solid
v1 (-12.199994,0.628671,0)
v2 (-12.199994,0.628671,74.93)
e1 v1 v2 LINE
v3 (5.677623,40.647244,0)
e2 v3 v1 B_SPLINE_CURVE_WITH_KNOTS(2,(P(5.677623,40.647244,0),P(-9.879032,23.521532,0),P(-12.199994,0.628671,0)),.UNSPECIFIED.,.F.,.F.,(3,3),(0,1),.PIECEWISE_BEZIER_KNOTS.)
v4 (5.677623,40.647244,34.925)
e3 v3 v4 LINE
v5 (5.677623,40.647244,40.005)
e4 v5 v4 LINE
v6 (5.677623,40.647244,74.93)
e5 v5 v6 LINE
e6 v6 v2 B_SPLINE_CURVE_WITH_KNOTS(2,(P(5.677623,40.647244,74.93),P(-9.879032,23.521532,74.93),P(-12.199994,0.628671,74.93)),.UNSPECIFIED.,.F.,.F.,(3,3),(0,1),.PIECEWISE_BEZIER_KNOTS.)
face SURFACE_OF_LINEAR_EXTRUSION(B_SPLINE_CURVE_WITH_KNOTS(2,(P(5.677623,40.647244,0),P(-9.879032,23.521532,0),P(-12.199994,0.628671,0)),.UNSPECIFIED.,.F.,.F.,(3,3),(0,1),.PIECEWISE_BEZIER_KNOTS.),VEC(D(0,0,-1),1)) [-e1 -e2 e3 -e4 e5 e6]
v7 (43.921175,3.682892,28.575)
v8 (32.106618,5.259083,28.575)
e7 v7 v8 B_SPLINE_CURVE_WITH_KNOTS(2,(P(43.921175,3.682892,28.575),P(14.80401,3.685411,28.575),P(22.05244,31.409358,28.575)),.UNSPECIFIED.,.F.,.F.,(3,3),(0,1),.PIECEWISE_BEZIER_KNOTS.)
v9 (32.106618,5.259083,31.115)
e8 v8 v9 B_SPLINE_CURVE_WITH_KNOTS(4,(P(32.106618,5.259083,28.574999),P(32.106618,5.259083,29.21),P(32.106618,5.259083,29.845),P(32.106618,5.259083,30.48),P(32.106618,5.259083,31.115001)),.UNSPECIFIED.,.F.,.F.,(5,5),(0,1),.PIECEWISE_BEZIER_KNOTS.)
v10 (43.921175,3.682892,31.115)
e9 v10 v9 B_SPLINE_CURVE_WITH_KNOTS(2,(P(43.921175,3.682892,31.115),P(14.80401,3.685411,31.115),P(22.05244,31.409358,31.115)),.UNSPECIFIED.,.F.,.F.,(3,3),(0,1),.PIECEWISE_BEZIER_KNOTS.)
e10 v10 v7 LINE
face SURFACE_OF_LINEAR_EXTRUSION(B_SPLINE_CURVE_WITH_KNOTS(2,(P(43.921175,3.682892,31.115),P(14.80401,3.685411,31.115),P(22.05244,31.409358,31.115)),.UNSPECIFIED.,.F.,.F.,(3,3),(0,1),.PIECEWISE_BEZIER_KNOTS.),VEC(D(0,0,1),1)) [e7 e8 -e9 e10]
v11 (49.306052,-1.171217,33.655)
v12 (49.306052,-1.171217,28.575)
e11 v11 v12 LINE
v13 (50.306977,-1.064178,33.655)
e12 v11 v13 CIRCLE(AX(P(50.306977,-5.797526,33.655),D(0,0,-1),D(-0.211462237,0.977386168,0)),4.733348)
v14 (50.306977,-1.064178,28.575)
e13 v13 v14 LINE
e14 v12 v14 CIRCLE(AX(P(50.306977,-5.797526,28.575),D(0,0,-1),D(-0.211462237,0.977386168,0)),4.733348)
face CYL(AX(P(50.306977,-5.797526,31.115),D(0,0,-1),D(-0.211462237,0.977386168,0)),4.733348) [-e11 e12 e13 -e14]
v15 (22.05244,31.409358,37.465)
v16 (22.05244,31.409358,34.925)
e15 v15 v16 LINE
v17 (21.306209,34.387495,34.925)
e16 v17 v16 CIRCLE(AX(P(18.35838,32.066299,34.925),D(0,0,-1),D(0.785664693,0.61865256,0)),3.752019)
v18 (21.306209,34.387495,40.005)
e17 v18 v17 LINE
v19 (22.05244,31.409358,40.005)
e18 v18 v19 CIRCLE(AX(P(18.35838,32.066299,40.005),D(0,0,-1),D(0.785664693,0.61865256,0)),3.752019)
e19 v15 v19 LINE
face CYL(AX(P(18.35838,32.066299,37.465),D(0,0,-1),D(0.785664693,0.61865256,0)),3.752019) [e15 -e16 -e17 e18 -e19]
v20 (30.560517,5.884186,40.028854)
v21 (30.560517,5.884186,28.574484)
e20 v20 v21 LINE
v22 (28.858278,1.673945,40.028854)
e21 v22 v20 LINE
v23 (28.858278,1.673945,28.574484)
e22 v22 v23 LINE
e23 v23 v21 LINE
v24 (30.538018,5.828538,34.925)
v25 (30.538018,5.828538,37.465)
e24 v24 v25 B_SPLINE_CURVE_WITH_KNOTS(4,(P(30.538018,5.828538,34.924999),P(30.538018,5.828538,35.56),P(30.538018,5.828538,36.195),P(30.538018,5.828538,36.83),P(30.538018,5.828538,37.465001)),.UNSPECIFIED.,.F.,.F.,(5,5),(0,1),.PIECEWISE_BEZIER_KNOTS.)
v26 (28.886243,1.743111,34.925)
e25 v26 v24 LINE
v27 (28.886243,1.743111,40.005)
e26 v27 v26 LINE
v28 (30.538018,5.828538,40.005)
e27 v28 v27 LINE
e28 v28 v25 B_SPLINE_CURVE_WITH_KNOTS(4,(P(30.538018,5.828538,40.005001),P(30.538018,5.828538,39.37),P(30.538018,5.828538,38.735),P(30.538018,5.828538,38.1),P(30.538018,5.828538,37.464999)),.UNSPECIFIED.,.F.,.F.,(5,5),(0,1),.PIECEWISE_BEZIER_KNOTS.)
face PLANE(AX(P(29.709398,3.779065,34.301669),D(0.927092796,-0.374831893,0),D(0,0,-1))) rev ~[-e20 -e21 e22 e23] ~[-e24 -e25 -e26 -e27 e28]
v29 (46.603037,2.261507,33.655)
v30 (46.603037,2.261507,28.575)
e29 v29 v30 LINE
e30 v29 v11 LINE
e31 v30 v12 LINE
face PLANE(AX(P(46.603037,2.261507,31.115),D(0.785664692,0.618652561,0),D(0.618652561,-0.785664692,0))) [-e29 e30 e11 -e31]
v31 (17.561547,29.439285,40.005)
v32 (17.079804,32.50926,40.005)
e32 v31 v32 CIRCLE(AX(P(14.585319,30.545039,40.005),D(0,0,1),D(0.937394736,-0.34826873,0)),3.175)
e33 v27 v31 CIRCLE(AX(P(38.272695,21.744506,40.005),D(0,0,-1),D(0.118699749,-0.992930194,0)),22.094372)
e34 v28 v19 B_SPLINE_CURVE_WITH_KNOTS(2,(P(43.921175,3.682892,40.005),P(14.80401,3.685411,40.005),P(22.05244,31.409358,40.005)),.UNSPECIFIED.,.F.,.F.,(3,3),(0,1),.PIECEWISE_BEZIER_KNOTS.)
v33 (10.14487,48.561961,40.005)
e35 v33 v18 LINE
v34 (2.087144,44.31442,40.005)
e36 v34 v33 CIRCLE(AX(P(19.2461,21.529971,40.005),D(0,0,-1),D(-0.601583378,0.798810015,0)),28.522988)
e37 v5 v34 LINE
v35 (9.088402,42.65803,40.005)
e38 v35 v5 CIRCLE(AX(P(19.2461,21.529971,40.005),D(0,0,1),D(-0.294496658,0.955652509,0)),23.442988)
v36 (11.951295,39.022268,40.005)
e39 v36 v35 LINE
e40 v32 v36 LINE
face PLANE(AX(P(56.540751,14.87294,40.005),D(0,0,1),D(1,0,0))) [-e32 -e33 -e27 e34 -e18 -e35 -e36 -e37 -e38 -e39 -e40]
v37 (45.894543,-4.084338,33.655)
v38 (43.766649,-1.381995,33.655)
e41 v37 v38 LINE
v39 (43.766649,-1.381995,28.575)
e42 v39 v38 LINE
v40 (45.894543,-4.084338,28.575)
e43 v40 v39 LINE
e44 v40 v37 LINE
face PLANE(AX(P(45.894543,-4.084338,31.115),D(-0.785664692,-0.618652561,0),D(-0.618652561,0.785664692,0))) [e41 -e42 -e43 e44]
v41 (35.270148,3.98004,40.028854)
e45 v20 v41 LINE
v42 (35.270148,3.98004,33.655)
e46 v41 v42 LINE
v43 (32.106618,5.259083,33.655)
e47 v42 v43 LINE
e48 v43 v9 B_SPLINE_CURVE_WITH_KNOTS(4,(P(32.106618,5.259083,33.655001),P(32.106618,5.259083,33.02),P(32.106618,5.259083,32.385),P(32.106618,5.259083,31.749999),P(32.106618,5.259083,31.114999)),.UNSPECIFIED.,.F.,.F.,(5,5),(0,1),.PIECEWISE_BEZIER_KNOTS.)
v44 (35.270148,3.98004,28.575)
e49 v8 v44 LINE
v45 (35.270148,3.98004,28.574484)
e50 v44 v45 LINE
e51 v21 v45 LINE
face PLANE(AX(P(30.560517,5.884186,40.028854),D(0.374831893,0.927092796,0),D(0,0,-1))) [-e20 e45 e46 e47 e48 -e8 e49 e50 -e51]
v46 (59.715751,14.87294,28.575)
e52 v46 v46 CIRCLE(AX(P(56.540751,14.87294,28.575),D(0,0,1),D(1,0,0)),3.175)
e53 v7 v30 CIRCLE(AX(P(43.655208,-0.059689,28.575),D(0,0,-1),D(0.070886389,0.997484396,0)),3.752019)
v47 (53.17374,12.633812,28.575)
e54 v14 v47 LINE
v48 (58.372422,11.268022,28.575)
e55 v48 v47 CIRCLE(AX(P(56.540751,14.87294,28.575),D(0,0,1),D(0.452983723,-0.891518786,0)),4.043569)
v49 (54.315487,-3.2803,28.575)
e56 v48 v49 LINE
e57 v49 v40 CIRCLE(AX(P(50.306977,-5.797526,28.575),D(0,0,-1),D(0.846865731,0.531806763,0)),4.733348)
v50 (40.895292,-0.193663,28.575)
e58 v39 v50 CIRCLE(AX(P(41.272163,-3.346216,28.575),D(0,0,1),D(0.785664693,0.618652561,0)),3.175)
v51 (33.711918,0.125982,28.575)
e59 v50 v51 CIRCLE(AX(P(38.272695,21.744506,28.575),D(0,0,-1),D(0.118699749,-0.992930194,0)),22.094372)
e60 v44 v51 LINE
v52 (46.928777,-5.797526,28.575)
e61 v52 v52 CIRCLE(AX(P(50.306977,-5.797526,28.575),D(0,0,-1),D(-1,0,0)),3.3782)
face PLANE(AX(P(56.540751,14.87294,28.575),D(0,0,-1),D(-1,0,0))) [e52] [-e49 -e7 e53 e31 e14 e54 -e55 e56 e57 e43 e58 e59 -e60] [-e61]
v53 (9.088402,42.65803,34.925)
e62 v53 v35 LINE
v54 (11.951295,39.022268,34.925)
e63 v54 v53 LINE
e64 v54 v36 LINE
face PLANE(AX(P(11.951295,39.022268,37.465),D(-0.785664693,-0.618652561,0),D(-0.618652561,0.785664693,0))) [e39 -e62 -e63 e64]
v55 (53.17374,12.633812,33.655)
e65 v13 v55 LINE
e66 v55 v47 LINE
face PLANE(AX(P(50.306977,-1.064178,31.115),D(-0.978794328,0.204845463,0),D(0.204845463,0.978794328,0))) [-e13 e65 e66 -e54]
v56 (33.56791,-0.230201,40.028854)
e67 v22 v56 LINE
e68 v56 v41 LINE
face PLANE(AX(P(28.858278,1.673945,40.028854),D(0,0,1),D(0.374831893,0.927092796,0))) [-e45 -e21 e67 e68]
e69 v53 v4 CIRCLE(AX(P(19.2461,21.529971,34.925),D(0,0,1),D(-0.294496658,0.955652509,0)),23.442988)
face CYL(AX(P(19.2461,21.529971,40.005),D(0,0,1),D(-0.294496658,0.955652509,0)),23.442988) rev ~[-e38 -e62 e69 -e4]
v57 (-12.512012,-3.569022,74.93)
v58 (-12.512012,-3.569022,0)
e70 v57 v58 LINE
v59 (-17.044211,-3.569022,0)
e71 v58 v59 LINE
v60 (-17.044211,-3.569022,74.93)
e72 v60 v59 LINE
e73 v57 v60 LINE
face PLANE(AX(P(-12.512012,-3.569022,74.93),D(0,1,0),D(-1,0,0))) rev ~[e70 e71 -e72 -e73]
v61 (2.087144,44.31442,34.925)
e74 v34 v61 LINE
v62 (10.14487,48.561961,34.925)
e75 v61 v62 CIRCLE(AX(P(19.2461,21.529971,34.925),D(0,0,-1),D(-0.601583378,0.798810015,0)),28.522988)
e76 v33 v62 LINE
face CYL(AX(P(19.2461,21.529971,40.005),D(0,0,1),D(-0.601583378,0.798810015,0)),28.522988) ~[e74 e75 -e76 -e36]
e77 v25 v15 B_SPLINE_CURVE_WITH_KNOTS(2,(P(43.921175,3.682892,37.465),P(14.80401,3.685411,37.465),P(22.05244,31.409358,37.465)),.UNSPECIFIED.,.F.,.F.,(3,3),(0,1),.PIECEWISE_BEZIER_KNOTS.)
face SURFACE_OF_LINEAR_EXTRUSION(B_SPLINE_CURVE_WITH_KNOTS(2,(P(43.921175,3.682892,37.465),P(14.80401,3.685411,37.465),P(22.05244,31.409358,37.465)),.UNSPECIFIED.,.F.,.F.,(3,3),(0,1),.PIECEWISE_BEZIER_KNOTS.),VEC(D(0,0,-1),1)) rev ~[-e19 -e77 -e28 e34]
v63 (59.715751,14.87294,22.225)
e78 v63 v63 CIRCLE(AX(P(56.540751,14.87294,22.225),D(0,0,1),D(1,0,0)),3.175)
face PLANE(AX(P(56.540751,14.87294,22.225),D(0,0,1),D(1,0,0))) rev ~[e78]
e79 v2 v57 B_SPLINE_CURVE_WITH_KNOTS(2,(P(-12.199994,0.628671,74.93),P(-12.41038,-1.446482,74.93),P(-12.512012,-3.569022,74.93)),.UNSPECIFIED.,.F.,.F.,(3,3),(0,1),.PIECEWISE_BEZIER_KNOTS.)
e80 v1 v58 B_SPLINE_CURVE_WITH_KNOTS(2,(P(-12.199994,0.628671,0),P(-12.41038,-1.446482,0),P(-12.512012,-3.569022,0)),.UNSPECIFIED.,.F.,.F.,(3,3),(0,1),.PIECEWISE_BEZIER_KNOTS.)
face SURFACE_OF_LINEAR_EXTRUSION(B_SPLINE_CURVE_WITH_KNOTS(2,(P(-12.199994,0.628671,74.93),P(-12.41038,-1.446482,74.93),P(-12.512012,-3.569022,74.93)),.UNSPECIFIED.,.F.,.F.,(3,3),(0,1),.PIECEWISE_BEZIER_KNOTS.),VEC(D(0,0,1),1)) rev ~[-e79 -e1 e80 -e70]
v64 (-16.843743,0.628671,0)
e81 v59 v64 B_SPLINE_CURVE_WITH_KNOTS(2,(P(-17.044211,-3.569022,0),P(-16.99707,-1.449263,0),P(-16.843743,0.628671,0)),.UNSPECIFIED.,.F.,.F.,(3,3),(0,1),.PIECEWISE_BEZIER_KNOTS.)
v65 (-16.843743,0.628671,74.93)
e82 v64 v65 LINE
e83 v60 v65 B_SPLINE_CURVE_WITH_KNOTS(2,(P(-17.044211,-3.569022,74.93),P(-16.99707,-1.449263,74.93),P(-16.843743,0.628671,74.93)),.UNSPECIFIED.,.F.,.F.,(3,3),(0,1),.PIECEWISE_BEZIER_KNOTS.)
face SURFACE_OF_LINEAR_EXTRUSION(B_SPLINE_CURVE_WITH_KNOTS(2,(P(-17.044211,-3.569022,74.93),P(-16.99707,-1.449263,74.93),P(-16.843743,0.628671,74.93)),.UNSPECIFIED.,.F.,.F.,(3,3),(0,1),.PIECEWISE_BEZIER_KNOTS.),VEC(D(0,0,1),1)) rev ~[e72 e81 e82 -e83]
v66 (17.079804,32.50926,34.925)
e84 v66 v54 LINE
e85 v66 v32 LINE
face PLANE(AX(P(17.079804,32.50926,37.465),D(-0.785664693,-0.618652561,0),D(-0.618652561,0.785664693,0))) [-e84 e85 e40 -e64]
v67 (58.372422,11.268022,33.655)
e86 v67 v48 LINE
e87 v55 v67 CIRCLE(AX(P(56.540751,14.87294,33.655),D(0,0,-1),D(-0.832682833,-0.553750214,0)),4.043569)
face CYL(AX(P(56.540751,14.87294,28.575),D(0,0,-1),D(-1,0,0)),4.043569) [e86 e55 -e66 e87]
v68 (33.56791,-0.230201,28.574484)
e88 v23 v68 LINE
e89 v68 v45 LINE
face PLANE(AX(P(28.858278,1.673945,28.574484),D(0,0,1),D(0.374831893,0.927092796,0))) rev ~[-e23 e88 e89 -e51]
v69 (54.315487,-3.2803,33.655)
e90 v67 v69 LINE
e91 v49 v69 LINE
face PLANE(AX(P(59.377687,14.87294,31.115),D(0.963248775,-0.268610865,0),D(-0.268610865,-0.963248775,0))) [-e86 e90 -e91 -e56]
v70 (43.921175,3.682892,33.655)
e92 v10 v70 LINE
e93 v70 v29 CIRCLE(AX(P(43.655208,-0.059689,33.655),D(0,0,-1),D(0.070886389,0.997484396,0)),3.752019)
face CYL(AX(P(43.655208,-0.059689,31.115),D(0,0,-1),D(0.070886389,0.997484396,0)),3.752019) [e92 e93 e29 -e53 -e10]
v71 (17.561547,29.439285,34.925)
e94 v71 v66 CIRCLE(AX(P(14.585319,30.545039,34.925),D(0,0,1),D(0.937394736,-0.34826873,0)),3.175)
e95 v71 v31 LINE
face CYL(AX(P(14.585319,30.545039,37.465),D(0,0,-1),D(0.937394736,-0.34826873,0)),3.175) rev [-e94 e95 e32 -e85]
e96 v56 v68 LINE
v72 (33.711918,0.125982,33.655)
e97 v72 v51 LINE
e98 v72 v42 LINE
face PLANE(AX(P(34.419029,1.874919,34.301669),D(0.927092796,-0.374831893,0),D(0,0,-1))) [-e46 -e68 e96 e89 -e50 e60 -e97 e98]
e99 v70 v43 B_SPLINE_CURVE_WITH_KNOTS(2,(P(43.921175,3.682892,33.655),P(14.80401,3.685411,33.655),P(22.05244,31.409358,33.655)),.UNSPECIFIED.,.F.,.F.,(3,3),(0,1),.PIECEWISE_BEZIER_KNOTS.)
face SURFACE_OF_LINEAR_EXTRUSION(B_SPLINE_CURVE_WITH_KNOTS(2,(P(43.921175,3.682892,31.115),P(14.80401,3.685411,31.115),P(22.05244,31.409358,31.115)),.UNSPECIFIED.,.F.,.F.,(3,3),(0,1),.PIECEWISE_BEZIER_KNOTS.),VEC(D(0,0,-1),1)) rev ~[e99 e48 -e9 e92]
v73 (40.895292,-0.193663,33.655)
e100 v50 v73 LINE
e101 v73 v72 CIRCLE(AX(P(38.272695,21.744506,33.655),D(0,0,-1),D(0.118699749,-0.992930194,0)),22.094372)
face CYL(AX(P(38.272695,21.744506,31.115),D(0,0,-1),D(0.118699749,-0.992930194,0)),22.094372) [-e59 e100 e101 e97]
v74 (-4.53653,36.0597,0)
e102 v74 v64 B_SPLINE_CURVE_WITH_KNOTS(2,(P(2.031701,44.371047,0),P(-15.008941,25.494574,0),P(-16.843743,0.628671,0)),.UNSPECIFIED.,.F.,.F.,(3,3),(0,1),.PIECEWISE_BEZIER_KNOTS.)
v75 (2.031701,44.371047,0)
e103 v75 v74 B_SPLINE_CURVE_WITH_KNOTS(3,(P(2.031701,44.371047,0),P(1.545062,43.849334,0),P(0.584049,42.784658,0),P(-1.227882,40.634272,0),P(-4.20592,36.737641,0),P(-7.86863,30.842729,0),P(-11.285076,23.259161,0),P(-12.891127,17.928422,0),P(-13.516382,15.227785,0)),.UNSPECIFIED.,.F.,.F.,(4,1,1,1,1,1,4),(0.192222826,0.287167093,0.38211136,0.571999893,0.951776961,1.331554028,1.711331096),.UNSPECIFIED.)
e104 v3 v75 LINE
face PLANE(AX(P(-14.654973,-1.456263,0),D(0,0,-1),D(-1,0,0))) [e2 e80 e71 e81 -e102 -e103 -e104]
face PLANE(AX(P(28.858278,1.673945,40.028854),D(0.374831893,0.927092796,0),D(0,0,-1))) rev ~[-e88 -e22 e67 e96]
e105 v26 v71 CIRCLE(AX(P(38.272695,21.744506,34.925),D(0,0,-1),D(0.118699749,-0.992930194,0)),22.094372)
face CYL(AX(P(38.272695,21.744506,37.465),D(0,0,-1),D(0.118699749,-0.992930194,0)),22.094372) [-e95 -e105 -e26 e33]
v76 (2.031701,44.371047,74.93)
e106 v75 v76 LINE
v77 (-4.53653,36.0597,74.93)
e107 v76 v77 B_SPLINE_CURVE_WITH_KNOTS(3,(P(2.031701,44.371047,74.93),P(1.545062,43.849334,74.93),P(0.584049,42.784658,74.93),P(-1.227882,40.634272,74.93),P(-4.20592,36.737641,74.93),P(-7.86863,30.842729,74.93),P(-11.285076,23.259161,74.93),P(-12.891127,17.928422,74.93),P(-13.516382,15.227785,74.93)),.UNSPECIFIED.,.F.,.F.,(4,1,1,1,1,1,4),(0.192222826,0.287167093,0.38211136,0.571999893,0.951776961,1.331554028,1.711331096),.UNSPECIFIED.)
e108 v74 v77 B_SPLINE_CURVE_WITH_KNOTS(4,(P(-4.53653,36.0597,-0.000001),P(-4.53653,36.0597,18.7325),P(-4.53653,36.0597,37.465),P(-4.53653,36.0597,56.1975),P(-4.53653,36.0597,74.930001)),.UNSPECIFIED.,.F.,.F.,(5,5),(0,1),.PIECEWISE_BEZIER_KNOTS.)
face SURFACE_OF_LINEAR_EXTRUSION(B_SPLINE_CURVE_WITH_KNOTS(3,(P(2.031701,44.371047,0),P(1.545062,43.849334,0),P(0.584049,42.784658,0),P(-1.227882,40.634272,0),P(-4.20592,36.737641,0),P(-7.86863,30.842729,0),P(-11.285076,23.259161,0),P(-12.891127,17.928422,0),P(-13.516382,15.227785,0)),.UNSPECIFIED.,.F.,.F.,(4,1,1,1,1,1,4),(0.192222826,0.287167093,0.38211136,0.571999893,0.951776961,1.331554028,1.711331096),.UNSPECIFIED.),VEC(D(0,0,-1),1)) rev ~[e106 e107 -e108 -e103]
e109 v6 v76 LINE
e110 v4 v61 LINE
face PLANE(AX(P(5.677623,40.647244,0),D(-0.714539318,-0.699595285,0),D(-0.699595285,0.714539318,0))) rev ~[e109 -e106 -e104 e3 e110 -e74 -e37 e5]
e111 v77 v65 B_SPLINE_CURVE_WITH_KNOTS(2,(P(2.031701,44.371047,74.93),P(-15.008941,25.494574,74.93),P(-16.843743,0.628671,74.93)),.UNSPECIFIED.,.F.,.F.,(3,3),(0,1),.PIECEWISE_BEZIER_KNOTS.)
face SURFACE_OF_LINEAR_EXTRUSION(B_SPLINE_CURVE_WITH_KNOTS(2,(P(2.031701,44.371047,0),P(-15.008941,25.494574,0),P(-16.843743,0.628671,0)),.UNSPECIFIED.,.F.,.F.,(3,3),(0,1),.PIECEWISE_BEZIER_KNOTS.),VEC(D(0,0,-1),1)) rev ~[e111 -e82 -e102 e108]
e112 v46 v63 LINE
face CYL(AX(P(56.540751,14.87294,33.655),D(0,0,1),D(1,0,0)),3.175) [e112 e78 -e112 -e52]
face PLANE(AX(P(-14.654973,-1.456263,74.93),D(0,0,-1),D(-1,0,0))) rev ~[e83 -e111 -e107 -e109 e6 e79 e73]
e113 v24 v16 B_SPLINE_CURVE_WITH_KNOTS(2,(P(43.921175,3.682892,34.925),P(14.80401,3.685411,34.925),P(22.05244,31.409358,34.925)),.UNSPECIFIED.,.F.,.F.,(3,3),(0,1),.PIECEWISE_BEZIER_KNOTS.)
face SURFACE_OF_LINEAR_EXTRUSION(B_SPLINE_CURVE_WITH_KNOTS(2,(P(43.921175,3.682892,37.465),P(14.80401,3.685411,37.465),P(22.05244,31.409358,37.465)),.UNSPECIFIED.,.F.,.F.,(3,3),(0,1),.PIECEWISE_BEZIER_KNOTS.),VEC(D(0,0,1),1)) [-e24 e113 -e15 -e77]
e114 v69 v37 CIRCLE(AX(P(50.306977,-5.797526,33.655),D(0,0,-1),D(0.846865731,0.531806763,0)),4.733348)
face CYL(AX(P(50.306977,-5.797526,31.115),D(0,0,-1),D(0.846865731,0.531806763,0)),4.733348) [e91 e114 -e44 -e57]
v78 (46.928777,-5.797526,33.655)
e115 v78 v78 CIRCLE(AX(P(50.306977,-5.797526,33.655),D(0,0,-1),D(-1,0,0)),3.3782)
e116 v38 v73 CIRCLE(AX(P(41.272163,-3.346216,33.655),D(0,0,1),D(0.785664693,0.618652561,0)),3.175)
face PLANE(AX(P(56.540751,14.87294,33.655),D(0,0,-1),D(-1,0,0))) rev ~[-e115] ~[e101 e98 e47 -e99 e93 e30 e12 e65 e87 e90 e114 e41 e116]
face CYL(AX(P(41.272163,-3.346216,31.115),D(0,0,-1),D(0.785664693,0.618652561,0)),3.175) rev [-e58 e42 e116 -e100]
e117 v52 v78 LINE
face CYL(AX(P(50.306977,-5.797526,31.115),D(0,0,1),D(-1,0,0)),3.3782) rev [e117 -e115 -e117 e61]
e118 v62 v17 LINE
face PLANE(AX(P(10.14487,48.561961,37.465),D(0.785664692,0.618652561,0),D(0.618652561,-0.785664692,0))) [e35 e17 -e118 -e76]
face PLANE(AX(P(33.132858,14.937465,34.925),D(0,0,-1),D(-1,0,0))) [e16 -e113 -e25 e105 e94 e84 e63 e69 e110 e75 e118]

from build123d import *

# Parameters (mm, degrees)
BOSS_EXTRUDE1_DEPTH      = 74.93
BOSS_EXTRUDE4_DEPTH      = 2.54
BOSS_EXTRUDE4_DEPTH_BACK = 2.54
BOSS_EXTRUDE6_DEPTH      = 74.93
BOSS_EXTRUDE7_DEPTH      = 74.93
SKETCH11_R               = 3.3782
BOSS_EXTRUDE8_DEPTH      = 2.54
SKETCH12_R               = 3.175
BOSS_EXTRUDE9_DEPTH      = 11.43
SKETCH14_W               = 11.454369962
SKETCH14_H               = 4.541337636
BOSS_EXTRUDE10_DEPTH     = 5.08
SKETCH16_R               = 4.043569484
BOSS_EXTRUDE11_DEPTH     = 5.08


with BuildPart() as part:
    # Sketch1 → Boss-Extrude1 (new body)
    with BuildSketch(Plane.XY):
        with BuildLine():
            Line((-16.295773791, 0.624640473), (-12.907508233, 0.624640473))
            Line((-12.907508233, 0.624640473), (-12.443267089, 3.164640473))
            add(Edge.make_bspline(
                [(-12.443267089, 3.164640473), (-12.30668745, 3.911907895), (-11.89696139, 6.153716378), (-11.35075536, 9.142778811), (-10.941162808, 11.384616955), (-10.804635025, 12.131895145)],
                knots=[0.002076118, 0.002076118, 0.002076118, 0.002076118, 0.004355051, 0.008912916, 0.011191849, 0.011191849, 0.011191849, 0.011191849], degree=3))
            add(Edge.make_bspline(
                [(-10.804635025, 12.131895145), (-10.131787944, 14.813925559), (-8.428636773, 20.08894476), (-4.769918918, 27.602373316), (-0.882056925, 33.370017928), (2.696640916, 37.629074894), (4.663596703, 39.6688962), (5.677623009, 40.647244333)],
                knots=[-0.595137067, -0.595137067, -0.595137067, -0.595137067, -0.254899084, 0.0853389, 0.425576884, 0.595695875, 0.765814867, 0.765814867, 0.765814867, 0.765814867], degree=3))
            Line((5.677623009, 40.647244333), (2.03170084, 44.371046934))
            add(Edge.make_bspline(
                [(2.03170084, 44.371046934), (1.545061943, 43.849333503), (0.584048879, 42.784657511), (-1.227882281, 40.634272171), (-4.205920413, 36.737641226), (-7.868630072, 30.842728735), (-11.285075765, 23.259160615), (-12.891126954, 17.928422411), (-13.516382283, 15.22778531)],
                knots=[0.192222826, 0.192222826, 0.192222826, 0.192222826, 0.287167093, 0.38211136, 0.571999893, 0.951776961, 1.331554028, 1.711331096, 1.711331096, 1.711331096, 1.711331096], degree=3))
            add(Edge.make_bspline(
                [(-13.516382283, 15.22778531), (-13.707651088, 14.222513225), (-14.09021448, 12.211975656), (-14.664139503, 9.196174334), (-15.238140346, 6.180406911), (-15.620861993, 4.169893716), (-15.812232602, 3.164640473)],
                knots=[-0.00268258, -0.00268258, -0.00268258, -0.00268258, 0.000387339, 0.003457258, 0.006527177, 0.009597097, 0.009597097, 0.009597097, 0.009597097], degree=3))
            Line((-15.812232602, 3.164640473), (-16.295773791, 0.624640473))
        make_face()
    extrude(amount=BOSS_EXTRUDE1_DEPTH)

    # Sketch4 → Boss-Extrude4 (add, two sides: drawn at the far end of the back side and taken through both)
    with BuildSketch(Plane(origin=(0, 0, 37.465), x_dir=(-1, 0, 0), z_dir=(0, 0, -1)).offset(-BOSS_EXTRUDE4_DEPTH_BACK)):
        with BuildLine():
            Line((-5.677623009, 40.647244333), (-2.087143894, 44.314419562))
            ThreePointArc((-2.087143894, 44.314419562), (-5.945357936, 46.761917563), (-10.144870483, 48.561961011))
            Line((-10.144870483, 48.561961011), (-12.342217859, 43.933321468))
            ThreePointArc((-12.342217859, 43.933321468), (-8.878894593, 42.556020468), (-5.677623009, 40.647244333))
        make_face()
    extrude(amount=BOSS_EXTRUDE4_DEPTH + BOSS_EXTRUDE4_DEPTH_BACK)

    # Sketch8 → Boss-Extrude6 (add)
    with BuildSketch(Plane(origin=(0, 0, 0), x_dir=(-1, 0, 0), z_dir=(0, 0, -1))):
        with BuildLine():
            Line((12.199993526, 0.628671187), (16.843743367, 0.628671187))
            add(Edge.make_bspline(
                [(-2.03170084, 44.371046934), (15.008940659, 25.494574417), (16.843743367, 0.628671187)],
                knots=[0, 0, 0, 1, 1, 1], degree=2))
            Line((-2.03170084, 44.371046934), (-5.677623009, 40.647244333))
            add(Edge.make_bspline(
                [(-5.677623009, 40.647244333), (9.879032096, 23.52153238), (12.199993526, 0.628671187)],
                knots=[0, 0, 0, 1, 1, 1], degree=2))
        make_face()
    extrude(amount=-BOSS_EXTRUDE6_DEPTH)

    # Sketch10 → Boss-Extrude7 (add)
    with BuildSketch(Plane.XY.offset(74.93)):
        with BuildLine():
            add(Edge.make_bspline(
                [(-17.044210577, -3.569022053), (-16.99706974, -1.449262713), (-16.843743367, 0.628671187)],
                knots=[0, 0, 0, 1, 1, 1], degree=2))
            Line((-16.843743367, 0.628671187), (-16.295006462, 0.628671187))
            Line((-16.295006462, 0.628671187), (-16.295773791, 0.624640473))
            Line((-16.295773791, 0.624640473), (-12.907508233, 0.624640473))
            Line((-12.907508233, 0.624640473), (-12.906771531, 0.628671187))
            Line((-12.906771531, 0.628671187), (-12.199993526, 0.628671187))
            add(Edge.make_bspline(
                [(-12.199993526, 0.628671187), (-12.410380076, -1.44648182), (-12.512012235, -3.569022053)],
                knots=[0, 0, 0, 1, 1, 1], degree=2))
            Line((-12.512012235, -3.569022053), (-17.044210577, -3.569022053))
        make_face()
    extrude(amount=-BOSS_EXTRUDE7_DEPTH)

    # Sketch11 → Boss-Extrude8 (add, symmetric)
    with BuildSketch(Plane(origin=(0, 0, 37.465), x_dir=(-1, 0, 0), z_dir=(0, 0, -1))):
        with BuildLine():
            Line((-6.661648357, 45.739913105), (-10.144870483, 48.561961011))
            Line((-10.144870483, 48.561961011), (-21.306209309, 34.387494774))
            ThreePointArc((-21.306209309, 34.387494774), (-21.997885217, 32.978248014), (-22.052439991, 31.409358033))
            add(Edge.make_bspline(
                [(-43.921175132, 3.682891736), (-14.804010115, 3.685410597), (-22.052439991, 31.409358033)],
                knots=[0, 0, 0, 1, 1, 1], degree=2))
            ThreePointArc((-43.921175132, 3.682891736), (-45.412252296, 3.255494908), (-46.603036961, 2.261507464))
            Line((-46.603036961, 2.261507464), (-49.3060524, -1.171217021))
            ThreePointArc((-49.3060524, -1.171217021), (-49.803661042, -1.091013739), (-50.306976812, -1.06417788))
            Line((-50.306976812, -1.06417788), (-53.763973591, 15.454073405))
            ThreePointArc((-53.763973591, 15.454073405), (-56.832870033, 17.694796121), (-59.377686579, 14.872939923))
            Line((-59.377686579, 14.872939923), (-54.315487208, -3.280299501))
            ThreePointArc((-54.315487208, -3.280299501), (-50.756874344, -10.509444763), (-45.894543202, -4.084337558))
            Line((-45.894543202, -4.084337558), (-43.766648862, -1.381994502))
            ThreePointArc((-43.766648862, -1.381994502), (-42.486290668, -0.41252926), (-40.895291759, -0.193663017))
            ThreePointArc((-40.895291759, -0.193663017), (-20.913927056, 8.075766362), (-17.561546975, 29.439285396))
            ThreePointArc((-17.561546975, 29.439285396), (-17.72193531, 31.037238944), (-17.079804086, 32.509260496))
            Line((-17.079804086, 32.509260496), (-11.95129503, 39.022267547))
            Line((-11.95129503, 39.022267547), (-6.661648357, 45.739913105))
        make_face()
        with Locations((-50.306976812, -5.797526095)):
            Circle(SKETCH11_R, mode=Mode.SUBTRACT)
    extrude(amount=BOSS_EXTRUDE8_DEPTH, both=True)

    # Sketch12 → Boss-Extrude9 (add)
    with BuildSketch(Plane.XY.offset(40.005)):
        with Locations((56.540750517, 14.872939923)):
            Circle(SKETCH12_R)
    extrude(amount=-BOSS_EXTRUDE9_DEPTH)


with BuildPart() as body_2:
    # Split1: the piece on the far side of the plane
    add(part.part)
    split(bisect_by=Plane(origin=(24.222018339, -9.793178229, 0), x_dir=(-0.37483189290442787, -0.9270927958201831, 0), z_dir=(-0.9270927958201831, 0.37483189290442787, 0)), keep=Keep.BOTTOM)


with BuildPart() as part_1:
    add(part.part)

    # Split1
    split(bisect_by=Plane(origin=(24.222018339, -9.793178229, 0), x_dir=(-0.37483189290442787, -0.9270927958201831, 0), z_dir=(-0.9270927958201831, 0.37483189290442787, 0)), keep=Keep.TOP)



with BuildPart() as body_2_1:
    # Body-Move/Copy1: moved
    add(body_2.part.moved(Location((0, 0, -6.35))))


with BuildPart() as part_2:
    add(part_1.part)

    add(body_2_1.part)  # Boss-Extrude10 merges body 2
    # Sketch14 → Boss-Extrude10 (add)
    with BuildSketch(Plane(origin=(24.222018339, -9.793178229, 0), x_dir=(0, 0, -1), z_dir=(0.9270927958201831, -0.37483189290442787, 0))):
        with Locations((-34.301669156, 14.639573878)):
            Rectangle(SKETCH14_W, SKETCH14_H)
    extrude(amount=BOSS_EXTRUDE10_DEPTH)

    # Sketch16 → Boss-Extrude11 (add)
    with BuildSketch(Plane(origin=(0, 0, 28.575), x_dir=(-1, 0, 0), z_dir=(0, 0, -1))):
        with Locations((-56.540750517, 14.872939923)):
            Circle(SKETCH16_R)
    extrude(amount=-BOSS_EXTRUDE11_DEPTH)


solid = part_2.part
